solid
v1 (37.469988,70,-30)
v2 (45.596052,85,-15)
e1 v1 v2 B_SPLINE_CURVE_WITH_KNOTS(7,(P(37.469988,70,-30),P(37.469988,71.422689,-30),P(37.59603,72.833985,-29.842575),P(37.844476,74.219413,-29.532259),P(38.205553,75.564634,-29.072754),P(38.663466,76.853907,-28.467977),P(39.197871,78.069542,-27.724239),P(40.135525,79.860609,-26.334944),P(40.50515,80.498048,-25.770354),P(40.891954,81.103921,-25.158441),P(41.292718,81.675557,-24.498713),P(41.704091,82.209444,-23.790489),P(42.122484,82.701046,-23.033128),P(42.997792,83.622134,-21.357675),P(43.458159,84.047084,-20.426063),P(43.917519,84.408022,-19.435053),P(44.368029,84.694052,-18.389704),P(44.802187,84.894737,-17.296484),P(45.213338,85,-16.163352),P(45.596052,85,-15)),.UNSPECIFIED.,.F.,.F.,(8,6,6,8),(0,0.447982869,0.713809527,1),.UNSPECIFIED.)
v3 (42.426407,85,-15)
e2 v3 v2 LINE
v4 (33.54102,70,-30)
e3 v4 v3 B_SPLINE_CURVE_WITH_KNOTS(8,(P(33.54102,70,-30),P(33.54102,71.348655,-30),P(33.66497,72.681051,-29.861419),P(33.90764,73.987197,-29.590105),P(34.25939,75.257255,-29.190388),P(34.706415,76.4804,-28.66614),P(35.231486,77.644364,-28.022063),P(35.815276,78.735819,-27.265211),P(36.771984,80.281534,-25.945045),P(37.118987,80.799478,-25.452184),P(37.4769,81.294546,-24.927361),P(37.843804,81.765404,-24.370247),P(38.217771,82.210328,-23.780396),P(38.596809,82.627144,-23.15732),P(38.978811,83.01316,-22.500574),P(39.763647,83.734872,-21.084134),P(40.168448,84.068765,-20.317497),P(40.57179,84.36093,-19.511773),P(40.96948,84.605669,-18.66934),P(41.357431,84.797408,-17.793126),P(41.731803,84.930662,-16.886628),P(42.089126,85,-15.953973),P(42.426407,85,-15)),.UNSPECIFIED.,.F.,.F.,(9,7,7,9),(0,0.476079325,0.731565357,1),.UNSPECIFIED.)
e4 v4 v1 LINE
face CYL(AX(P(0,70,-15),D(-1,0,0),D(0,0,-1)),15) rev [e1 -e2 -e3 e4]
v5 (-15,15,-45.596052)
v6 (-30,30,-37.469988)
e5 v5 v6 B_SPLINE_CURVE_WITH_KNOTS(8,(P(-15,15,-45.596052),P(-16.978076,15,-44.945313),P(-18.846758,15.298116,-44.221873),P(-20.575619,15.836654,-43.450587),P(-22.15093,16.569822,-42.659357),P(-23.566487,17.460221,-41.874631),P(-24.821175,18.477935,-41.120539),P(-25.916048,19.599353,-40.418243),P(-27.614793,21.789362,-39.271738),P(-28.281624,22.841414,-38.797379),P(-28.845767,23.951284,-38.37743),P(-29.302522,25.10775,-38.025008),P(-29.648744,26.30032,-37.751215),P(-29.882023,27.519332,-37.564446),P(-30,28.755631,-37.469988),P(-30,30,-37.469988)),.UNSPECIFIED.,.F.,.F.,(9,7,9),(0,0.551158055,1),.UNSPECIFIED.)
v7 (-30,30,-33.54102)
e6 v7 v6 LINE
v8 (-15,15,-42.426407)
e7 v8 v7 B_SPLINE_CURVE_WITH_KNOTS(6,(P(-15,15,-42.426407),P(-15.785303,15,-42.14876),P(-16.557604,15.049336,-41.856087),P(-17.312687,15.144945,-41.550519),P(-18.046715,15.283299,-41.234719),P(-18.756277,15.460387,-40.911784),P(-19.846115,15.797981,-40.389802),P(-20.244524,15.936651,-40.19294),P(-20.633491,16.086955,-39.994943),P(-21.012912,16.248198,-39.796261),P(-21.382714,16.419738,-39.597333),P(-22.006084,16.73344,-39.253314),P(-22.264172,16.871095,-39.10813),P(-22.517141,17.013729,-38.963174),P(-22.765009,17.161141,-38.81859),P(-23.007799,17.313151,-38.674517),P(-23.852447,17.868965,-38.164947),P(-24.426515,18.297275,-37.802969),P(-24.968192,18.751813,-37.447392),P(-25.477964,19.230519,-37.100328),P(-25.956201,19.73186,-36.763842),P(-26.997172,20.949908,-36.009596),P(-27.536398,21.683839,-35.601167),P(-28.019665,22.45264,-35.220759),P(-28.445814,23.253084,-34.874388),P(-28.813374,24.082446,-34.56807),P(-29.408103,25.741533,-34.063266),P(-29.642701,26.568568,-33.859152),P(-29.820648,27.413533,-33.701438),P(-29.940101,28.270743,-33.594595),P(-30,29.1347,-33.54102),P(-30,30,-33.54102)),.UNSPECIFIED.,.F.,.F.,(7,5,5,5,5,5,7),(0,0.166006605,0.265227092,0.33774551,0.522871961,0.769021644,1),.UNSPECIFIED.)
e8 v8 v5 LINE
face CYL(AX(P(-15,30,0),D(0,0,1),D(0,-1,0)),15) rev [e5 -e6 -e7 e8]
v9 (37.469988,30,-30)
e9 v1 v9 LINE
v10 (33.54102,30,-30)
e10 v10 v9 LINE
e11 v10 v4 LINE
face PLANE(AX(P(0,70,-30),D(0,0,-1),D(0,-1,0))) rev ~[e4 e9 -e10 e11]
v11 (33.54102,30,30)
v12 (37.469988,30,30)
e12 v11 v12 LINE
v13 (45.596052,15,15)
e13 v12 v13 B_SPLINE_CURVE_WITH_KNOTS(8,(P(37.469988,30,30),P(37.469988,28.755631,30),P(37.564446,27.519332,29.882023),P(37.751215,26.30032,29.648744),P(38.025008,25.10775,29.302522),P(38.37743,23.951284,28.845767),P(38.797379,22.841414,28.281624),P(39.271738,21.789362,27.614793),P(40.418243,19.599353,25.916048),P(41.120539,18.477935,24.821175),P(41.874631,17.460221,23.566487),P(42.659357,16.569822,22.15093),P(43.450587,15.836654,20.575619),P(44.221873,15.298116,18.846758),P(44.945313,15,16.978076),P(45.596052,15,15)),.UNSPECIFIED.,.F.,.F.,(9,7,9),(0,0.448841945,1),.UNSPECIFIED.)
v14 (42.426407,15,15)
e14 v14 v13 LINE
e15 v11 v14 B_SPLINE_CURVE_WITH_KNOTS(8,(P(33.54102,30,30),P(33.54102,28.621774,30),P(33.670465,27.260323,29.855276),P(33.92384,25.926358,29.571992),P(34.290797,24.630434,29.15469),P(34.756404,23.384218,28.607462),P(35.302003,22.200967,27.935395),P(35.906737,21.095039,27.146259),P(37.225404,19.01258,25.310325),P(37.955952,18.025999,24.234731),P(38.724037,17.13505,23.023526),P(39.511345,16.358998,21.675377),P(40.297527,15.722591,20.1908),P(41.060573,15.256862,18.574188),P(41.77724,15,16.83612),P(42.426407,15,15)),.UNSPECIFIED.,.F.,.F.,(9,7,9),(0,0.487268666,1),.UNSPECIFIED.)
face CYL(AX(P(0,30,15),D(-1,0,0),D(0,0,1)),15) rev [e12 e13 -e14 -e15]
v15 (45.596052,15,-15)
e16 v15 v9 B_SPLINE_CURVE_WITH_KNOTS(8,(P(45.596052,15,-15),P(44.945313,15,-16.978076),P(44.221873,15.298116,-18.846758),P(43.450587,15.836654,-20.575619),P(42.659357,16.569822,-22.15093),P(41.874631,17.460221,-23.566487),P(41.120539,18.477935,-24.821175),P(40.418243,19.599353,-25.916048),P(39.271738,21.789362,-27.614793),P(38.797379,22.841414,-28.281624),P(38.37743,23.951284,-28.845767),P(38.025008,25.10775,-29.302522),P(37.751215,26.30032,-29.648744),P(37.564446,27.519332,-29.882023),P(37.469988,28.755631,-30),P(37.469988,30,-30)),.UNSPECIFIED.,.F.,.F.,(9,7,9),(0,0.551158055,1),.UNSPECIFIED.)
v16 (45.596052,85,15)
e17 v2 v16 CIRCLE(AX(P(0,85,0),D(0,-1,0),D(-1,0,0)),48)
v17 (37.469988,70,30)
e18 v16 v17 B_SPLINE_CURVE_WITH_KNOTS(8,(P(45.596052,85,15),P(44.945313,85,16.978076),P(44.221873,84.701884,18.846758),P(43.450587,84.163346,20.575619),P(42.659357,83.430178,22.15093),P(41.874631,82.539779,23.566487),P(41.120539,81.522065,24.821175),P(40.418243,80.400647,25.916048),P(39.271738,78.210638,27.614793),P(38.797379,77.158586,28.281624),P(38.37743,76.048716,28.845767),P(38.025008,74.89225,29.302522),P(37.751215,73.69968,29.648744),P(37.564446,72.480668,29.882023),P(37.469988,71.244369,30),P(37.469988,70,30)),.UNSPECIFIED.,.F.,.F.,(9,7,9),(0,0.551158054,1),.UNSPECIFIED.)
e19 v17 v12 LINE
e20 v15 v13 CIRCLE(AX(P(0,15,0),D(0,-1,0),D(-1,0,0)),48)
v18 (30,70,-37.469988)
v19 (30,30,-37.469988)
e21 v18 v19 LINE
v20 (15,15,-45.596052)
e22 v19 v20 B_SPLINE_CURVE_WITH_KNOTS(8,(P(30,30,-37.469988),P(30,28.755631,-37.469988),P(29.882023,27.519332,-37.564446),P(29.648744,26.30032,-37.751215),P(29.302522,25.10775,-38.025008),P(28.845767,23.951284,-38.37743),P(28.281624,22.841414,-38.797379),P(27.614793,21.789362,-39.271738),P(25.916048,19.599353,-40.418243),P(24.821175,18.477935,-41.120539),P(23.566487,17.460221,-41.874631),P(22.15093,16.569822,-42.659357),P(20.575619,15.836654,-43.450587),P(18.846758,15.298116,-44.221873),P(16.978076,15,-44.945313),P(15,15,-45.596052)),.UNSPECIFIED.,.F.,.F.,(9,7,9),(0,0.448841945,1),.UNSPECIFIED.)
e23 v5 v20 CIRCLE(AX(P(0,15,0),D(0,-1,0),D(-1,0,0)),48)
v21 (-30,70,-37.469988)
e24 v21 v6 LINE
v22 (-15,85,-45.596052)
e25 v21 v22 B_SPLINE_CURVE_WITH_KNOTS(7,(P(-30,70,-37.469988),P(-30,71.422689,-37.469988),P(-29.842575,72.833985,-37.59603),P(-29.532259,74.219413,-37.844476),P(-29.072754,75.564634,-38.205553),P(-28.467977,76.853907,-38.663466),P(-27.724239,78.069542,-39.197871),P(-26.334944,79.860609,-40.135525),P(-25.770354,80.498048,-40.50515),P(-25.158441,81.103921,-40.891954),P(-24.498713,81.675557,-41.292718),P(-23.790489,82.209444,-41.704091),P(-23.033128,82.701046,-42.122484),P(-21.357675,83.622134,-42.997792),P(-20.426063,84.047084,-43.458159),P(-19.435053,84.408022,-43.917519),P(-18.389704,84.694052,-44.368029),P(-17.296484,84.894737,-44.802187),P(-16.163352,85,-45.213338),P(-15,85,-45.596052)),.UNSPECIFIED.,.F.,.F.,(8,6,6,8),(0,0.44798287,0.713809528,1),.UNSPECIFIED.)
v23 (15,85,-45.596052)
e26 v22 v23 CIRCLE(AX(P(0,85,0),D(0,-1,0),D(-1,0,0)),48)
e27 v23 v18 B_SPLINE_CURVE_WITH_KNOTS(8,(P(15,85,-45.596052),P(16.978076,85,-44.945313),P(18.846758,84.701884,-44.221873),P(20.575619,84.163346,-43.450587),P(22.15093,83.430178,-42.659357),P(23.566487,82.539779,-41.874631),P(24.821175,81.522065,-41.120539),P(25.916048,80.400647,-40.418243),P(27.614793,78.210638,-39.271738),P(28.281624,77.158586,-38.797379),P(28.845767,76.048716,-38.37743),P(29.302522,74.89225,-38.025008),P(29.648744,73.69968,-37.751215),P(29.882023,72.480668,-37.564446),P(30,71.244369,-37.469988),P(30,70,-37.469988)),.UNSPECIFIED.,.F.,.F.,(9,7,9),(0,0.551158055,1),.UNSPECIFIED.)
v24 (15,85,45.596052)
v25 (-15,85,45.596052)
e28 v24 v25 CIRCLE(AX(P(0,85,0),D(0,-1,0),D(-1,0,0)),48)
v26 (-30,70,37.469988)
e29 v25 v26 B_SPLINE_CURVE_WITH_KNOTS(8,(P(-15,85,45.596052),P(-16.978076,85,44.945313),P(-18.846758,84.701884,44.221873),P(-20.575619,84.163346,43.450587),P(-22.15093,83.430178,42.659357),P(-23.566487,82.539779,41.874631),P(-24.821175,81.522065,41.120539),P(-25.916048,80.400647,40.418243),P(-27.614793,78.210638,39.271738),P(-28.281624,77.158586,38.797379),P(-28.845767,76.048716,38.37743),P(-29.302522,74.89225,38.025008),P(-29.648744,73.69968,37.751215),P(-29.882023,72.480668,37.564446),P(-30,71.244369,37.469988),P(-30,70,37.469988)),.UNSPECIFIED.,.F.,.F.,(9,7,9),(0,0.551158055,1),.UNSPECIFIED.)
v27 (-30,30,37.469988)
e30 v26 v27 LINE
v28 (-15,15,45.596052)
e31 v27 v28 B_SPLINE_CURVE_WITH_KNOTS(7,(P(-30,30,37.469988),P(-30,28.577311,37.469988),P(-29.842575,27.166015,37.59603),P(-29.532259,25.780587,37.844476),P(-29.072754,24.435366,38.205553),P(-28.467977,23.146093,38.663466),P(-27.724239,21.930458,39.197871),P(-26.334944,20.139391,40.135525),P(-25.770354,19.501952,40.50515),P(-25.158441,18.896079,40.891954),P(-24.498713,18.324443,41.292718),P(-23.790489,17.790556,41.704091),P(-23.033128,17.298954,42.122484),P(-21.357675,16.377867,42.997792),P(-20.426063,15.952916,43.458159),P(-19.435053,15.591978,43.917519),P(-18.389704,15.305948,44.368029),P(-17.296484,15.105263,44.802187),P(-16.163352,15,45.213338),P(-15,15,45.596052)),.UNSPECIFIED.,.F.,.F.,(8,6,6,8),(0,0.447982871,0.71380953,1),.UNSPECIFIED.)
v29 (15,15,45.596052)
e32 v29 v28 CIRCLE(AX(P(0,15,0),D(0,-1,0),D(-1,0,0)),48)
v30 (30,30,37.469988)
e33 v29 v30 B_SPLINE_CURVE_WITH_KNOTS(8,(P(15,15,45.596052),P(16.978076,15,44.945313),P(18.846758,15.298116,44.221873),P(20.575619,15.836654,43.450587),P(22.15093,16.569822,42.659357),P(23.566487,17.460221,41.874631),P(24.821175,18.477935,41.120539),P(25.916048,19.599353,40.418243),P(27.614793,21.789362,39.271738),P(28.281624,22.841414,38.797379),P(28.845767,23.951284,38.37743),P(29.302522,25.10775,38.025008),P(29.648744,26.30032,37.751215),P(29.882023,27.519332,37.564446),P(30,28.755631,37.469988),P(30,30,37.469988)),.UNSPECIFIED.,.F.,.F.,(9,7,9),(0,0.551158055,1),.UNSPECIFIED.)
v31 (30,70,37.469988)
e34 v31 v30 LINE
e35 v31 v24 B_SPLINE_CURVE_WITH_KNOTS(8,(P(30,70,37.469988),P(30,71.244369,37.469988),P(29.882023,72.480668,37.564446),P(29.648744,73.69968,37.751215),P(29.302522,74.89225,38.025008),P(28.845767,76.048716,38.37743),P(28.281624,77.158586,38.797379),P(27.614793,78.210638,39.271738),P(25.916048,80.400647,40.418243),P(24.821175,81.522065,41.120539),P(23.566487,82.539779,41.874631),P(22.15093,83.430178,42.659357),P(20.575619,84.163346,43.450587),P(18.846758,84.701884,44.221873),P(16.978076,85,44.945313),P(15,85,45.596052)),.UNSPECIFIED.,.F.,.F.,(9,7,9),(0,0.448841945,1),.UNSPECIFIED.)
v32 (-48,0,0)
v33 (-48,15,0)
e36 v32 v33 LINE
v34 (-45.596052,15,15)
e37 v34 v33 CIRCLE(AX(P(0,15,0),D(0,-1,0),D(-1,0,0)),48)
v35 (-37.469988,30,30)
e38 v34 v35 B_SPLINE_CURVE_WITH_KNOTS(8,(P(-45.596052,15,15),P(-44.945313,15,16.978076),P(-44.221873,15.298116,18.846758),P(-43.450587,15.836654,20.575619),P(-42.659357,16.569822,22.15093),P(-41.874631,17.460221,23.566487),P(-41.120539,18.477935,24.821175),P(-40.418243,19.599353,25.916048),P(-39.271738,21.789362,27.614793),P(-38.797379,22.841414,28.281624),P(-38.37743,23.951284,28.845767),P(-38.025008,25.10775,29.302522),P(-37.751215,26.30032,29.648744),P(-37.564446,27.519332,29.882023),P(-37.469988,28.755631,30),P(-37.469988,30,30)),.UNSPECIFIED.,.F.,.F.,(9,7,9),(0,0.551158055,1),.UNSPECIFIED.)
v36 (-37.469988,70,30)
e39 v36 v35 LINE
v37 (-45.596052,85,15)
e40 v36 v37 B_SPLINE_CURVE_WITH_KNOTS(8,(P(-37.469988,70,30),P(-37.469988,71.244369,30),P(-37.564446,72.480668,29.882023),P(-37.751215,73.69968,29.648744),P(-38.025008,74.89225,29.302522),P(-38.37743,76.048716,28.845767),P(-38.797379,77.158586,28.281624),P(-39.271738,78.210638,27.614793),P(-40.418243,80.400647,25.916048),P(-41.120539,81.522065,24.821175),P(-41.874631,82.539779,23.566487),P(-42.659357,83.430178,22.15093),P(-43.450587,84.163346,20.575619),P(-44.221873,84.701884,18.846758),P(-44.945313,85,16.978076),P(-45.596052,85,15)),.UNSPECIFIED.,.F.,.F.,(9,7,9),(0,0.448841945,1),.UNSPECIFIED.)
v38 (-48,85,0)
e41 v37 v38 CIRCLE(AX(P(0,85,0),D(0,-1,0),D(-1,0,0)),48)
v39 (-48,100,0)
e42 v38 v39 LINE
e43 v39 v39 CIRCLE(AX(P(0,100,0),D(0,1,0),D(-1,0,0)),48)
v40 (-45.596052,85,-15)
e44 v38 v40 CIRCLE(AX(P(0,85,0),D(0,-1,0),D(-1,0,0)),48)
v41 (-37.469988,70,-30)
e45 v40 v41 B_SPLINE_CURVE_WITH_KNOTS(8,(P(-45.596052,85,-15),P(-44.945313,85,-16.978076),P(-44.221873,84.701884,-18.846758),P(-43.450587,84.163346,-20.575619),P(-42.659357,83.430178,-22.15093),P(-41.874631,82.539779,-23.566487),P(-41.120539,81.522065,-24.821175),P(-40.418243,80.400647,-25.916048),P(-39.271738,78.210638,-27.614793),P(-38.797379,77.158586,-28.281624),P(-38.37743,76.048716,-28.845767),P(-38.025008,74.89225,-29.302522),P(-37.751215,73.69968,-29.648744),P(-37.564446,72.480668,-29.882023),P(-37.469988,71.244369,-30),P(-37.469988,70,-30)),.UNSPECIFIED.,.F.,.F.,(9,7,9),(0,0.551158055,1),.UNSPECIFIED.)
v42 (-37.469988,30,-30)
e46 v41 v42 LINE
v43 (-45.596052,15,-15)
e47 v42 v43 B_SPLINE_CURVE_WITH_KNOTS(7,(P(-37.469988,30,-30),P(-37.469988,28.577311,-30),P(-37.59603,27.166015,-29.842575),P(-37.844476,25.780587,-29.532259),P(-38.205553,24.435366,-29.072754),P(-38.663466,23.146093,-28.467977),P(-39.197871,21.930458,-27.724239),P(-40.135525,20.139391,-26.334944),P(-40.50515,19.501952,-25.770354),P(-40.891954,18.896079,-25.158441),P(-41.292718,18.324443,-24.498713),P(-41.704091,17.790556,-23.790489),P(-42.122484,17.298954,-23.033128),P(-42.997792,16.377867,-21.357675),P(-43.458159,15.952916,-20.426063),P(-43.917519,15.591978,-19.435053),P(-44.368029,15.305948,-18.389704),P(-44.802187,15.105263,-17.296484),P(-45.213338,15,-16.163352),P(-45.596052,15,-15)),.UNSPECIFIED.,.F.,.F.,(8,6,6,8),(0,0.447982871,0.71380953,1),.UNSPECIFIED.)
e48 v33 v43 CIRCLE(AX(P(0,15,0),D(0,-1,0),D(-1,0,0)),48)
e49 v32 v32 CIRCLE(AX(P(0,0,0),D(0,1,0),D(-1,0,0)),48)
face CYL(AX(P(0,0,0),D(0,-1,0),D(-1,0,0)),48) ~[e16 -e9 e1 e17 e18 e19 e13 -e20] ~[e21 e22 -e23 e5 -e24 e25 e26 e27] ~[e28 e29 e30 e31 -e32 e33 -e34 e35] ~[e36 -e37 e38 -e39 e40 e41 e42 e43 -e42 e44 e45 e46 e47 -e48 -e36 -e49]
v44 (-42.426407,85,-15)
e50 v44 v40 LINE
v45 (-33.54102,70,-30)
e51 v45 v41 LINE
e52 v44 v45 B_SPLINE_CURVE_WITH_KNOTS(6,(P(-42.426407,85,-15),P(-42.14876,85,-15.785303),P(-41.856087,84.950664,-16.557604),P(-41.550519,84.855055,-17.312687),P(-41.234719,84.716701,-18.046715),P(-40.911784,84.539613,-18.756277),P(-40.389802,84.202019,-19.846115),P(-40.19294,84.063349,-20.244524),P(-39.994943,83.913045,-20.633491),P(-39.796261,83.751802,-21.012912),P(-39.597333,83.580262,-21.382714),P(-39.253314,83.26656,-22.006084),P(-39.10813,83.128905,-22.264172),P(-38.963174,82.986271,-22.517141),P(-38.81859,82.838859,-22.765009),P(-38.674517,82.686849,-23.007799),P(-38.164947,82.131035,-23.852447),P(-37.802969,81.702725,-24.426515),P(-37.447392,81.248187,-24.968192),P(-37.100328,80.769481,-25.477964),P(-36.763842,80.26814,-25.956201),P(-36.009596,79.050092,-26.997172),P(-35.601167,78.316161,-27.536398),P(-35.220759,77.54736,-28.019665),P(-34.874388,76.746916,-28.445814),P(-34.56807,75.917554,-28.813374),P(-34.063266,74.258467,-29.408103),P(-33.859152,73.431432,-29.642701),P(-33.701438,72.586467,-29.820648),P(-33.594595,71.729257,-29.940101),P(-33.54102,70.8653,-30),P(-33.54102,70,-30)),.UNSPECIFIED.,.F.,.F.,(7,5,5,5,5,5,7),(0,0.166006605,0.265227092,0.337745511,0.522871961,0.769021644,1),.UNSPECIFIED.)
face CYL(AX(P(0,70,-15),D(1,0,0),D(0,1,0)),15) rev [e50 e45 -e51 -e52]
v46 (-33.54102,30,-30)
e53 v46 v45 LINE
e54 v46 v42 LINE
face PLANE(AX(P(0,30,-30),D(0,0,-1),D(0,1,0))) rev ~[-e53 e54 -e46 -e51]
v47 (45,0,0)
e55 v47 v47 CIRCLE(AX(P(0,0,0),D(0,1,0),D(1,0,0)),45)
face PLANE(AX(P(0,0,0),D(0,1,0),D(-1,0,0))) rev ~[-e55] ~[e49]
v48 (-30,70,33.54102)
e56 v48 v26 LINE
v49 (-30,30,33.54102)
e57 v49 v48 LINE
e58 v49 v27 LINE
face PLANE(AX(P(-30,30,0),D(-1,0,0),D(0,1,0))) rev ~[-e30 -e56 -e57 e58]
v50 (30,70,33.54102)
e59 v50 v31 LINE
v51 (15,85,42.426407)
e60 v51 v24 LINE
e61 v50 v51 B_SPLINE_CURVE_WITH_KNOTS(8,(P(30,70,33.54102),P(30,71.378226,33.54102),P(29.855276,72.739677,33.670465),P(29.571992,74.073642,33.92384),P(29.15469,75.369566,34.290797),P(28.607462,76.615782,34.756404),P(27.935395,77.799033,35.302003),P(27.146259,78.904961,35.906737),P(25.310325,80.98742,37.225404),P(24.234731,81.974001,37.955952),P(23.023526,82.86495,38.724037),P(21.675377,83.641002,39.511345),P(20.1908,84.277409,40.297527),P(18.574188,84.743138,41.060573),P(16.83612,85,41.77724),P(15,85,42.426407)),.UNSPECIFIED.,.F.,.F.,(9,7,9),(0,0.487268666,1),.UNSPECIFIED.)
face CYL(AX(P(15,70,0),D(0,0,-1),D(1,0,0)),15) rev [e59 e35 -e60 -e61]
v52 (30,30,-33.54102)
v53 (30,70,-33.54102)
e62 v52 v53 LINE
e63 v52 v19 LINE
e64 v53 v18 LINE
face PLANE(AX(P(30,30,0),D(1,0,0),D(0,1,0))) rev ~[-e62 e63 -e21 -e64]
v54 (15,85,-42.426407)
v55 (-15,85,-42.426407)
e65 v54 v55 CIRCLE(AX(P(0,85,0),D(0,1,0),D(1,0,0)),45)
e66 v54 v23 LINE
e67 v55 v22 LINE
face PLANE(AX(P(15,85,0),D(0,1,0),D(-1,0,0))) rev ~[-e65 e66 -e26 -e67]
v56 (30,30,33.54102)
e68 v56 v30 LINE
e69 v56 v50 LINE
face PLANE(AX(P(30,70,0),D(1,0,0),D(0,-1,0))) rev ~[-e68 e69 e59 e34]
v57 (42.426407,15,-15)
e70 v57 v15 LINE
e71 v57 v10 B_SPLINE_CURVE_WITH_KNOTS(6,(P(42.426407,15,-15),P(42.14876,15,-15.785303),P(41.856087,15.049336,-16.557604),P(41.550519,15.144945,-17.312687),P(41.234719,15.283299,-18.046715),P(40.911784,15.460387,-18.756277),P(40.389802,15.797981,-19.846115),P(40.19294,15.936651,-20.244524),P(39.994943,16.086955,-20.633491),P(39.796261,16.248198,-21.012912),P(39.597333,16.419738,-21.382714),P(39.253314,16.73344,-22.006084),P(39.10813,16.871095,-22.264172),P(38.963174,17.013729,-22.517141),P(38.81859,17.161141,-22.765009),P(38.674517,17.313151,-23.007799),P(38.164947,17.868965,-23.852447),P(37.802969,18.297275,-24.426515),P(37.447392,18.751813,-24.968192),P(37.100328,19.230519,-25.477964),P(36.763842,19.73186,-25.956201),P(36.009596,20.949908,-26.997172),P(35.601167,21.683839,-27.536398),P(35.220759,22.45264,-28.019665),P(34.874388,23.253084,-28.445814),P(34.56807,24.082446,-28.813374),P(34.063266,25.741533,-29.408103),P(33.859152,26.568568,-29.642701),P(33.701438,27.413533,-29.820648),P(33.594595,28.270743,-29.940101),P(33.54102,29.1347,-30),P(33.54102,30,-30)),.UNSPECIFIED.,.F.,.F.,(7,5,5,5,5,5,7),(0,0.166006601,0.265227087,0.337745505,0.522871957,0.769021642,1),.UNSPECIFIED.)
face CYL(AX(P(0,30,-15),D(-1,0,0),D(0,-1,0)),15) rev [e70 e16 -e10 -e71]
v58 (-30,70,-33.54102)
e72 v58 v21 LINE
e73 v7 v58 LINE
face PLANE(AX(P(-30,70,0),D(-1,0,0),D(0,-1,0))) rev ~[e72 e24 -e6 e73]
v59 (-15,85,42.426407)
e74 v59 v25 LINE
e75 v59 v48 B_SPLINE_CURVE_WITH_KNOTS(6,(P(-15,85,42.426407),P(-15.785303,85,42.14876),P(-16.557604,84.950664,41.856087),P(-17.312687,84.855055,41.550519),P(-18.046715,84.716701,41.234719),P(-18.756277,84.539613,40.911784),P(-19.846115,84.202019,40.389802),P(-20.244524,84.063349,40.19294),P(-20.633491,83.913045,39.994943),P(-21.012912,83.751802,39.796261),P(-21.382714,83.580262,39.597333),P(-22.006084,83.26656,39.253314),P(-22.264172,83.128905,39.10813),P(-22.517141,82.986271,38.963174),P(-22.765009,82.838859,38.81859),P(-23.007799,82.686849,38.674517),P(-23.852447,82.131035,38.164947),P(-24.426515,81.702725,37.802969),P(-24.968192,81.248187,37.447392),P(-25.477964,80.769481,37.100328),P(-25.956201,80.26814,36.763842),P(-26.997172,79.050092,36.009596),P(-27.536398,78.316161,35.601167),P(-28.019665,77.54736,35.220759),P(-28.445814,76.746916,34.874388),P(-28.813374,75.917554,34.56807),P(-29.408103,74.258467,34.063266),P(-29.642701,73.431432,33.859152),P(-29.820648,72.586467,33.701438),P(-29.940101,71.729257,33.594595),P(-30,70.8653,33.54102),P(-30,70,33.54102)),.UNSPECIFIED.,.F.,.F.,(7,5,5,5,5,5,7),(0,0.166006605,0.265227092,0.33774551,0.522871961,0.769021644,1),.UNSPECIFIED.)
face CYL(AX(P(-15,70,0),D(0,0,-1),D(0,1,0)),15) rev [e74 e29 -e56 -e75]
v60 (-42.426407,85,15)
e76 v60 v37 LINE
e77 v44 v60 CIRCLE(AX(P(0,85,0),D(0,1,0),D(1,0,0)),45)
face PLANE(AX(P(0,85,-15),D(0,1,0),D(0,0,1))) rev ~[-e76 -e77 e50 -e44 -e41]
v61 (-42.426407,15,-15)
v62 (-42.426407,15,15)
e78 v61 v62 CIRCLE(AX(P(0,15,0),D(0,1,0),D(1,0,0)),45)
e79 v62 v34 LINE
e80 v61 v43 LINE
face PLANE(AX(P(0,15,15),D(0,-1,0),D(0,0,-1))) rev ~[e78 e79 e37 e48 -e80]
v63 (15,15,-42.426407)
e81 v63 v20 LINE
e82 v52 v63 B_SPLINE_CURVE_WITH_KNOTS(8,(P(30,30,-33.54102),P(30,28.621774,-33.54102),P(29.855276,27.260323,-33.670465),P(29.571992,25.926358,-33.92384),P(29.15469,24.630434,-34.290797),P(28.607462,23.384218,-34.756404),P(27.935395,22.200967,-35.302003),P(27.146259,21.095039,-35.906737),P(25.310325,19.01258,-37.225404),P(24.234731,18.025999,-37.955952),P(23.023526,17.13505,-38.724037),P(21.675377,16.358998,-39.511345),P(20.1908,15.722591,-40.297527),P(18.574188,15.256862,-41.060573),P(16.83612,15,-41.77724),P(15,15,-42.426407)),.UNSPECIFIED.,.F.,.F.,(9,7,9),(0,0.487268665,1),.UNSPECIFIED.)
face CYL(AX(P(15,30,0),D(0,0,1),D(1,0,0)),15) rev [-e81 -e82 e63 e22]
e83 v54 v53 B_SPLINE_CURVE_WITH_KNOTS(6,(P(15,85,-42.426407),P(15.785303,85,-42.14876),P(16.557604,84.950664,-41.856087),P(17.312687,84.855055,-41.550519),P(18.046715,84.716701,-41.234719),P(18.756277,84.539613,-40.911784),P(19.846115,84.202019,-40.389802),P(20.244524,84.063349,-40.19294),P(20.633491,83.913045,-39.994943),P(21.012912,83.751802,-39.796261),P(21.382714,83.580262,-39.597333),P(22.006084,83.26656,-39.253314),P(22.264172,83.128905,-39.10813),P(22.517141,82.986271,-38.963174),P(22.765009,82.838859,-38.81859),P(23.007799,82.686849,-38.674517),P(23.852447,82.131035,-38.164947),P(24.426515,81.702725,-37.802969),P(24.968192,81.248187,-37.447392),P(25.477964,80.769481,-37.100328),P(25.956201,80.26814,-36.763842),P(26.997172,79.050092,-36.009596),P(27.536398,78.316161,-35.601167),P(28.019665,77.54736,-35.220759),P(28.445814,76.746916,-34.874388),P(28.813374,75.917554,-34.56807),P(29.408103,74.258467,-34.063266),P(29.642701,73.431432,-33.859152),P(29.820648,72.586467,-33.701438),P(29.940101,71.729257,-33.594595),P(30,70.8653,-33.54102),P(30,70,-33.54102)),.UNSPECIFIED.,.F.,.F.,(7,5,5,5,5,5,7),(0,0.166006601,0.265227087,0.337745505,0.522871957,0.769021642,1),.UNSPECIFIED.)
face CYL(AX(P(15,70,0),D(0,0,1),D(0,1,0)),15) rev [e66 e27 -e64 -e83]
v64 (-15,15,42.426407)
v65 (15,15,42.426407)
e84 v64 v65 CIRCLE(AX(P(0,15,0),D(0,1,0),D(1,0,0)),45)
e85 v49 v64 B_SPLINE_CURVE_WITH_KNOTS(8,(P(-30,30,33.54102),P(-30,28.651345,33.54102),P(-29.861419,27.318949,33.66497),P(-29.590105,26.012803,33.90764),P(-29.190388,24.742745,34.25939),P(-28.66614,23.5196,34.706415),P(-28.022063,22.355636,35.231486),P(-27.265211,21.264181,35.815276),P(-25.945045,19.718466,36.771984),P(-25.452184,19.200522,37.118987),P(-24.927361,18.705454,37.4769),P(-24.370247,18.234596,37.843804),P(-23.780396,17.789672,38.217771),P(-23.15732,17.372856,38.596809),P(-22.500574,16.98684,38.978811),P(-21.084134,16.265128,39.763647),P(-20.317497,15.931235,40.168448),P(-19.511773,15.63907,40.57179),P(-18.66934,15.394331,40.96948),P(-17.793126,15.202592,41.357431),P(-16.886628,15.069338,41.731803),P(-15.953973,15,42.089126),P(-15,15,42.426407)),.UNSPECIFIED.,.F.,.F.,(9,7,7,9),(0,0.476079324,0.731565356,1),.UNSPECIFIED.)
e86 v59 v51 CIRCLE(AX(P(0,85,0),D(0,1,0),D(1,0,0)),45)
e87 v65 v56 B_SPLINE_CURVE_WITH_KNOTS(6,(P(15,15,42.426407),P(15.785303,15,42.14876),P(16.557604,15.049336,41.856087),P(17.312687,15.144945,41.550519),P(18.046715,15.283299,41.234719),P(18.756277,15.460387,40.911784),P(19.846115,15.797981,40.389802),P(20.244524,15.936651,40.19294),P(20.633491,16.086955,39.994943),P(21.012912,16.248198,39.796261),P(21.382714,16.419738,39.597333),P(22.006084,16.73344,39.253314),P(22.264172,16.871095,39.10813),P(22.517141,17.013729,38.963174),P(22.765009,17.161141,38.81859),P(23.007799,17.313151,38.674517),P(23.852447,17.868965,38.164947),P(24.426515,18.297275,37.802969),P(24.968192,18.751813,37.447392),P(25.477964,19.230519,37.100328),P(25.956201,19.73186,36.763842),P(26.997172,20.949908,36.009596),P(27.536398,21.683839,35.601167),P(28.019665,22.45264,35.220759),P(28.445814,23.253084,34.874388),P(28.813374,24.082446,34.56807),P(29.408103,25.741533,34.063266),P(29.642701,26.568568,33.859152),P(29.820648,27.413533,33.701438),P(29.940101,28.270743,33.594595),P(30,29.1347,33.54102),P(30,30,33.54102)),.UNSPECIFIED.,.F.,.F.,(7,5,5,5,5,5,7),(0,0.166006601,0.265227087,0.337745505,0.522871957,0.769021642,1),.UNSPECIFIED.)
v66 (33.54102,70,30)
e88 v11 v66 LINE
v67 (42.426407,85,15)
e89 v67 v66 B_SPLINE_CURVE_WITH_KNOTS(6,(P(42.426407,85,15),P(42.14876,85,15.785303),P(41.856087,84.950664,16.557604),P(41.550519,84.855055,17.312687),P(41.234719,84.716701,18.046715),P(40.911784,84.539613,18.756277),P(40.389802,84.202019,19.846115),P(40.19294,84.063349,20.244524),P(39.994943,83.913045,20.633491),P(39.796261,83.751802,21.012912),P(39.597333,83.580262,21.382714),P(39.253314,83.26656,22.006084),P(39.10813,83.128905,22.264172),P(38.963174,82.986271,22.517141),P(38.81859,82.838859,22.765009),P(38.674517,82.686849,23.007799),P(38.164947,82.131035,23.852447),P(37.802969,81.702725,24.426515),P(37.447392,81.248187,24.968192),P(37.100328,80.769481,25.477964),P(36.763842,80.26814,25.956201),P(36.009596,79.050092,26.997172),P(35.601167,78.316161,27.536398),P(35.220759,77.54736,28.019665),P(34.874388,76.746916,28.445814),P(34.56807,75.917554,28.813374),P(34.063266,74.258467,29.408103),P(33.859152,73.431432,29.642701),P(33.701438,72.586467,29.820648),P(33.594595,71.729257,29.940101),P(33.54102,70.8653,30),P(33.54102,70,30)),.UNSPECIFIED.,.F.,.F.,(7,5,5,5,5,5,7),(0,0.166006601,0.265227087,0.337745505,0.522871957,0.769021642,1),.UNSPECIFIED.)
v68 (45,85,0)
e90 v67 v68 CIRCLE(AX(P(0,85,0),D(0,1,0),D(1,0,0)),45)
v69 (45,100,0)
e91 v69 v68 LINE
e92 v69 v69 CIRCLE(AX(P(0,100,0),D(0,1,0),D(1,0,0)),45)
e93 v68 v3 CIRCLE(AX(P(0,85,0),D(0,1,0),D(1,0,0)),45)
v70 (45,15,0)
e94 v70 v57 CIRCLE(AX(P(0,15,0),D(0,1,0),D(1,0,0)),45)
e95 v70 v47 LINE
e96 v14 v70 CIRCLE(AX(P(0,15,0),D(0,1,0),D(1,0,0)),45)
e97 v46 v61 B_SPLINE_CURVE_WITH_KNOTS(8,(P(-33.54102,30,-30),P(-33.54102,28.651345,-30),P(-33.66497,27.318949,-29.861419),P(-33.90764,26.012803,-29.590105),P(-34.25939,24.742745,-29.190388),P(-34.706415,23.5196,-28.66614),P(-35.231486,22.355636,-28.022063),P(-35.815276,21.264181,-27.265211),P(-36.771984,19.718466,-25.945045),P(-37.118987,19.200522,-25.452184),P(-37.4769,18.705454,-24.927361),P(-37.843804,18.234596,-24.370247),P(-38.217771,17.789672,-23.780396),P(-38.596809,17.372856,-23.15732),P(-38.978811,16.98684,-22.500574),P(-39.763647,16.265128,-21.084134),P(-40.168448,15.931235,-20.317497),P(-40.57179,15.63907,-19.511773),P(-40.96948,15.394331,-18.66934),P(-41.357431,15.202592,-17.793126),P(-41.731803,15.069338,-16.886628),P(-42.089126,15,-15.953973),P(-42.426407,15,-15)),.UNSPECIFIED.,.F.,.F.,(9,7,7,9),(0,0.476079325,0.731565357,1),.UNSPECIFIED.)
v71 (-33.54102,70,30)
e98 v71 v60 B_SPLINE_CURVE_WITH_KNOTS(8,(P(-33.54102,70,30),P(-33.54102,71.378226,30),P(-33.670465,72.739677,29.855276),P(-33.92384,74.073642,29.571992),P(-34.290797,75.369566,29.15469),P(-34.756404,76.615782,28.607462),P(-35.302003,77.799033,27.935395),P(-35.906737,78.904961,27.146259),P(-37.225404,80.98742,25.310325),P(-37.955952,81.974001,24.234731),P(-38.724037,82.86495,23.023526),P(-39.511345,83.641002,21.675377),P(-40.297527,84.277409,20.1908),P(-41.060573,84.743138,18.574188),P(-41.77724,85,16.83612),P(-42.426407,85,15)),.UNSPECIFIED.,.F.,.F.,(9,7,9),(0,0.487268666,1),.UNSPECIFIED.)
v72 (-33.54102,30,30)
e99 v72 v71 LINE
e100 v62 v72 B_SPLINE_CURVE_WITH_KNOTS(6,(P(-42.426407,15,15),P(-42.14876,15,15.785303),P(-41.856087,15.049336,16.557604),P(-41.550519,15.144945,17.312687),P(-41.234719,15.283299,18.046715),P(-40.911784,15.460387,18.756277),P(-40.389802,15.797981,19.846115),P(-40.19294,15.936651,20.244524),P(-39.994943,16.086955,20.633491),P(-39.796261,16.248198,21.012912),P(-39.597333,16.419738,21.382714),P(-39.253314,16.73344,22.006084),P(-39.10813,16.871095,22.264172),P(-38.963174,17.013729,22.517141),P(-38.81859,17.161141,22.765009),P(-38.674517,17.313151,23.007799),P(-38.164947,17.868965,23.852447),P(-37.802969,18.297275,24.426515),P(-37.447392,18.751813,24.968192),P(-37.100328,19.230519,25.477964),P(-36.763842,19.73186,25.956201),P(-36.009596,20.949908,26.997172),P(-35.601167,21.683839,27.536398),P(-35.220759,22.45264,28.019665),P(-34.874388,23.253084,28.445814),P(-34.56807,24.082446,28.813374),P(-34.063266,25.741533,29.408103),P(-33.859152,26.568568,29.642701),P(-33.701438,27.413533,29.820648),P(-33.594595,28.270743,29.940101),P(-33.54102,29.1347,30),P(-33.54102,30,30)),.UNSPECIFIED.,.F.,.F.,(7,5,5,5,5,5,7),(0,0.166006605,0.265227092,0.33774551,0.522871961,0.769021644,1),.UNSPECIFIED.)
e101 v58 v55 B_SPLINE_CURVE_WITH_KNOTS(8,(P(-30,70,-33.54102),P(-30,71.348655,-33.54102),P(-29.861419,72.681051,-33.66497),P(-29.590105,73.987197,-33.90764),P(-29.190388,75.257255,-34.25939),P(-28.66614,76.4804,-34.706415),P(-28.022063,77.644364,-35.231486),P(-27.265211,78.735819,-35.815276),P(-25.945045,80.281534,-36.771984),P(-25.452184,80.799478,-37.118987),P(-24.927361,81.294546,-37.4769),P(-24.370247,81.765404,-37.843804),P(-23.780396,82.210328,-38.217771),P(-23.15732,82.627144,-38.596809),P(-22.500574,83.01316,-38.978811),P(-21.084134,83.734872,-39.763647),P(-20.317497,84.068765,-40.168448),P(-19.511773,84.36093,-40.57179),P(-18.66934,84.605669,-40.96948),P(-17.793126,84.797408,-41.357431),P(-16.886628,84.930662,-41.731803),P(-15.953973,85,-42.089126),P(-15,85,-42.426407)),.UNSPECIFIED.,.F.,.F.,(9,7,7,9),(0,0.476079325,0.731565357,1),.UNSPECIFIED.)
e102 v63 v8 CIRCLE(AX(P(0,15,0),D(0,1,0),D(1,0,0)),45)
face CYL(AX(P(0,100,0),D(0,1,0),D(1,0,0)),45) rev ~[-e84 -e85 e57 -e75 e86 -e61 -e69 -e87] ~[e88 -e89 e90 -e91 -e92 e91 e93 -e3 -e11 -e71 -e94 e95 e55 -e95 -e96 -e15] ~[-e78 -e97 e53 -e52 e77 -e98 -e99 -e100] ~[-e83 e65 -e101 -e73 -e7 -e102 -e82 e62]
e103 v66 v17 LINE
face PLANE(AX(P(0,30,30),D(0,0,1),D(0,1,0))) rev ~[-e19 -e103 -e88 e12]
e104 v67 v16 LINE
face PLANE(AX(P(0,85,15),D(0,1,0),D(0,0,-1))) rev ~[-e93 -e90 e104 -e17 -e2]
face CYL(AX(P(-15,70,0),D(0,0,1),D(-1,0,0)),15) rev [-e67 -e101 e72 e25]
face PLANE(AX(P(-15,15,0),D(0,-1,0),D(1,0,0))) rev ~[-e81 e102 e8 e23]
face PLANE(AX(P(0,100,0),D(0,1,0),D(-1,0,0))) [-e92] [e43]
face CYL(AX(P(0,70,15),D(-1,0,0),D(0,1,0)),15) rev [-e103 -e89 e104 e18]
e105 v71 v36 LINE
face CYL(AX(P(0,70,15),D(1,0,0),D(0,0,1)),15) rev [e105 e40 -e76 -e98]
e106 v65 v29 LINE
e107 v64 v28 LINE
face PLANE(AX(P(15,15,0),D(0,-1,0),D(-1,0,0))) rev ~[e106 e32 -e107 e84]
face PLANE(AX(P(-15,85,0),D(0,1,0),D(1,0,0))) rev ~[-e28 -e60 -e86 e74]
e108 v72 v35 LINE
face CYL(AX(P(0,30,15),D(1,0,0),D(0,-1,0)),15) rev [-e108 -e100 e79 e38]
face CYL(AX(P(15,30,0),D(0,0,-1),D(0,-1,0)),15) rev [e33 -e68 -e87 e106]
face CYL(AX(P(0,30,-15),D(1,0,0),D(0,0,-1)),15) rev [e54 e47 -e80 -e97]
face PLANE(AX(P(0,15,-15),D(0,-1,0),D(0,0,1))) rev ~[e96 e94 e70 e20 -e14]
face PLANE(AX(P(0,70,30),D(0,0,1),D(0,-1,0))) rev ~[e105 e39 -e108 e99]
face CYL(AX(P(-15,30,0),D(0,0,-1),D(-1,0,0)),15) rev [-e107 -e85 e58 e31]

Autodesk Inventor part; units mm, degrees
ref_plane "YZ Plane" through (0, 0, 0) normal (1, 0, 0) x (0, 1, 0)
ref_plane "XZ Plane" through (0, 0, 0) normal (0, 1, 0) x (-1, 0, 0)
ref_plane "XY Plane" through (0, 0, 0) normal (0, 0, 1) x (1, 0, 0)
sketch "Sketch1" plane through (0, 0, 0) normal (0, 1, 0) x (-1, 0, 0)
  circle A0 centre (0, 0) radius 48
  dimension "d0" = 96
extrude "Extrusion1" add sketch "Sketch1" along normal blind 100
sketch "Sketch2" plane through (0, 100, 0) normal (0, 1, 0) x (1, 0, 0)
  circle A0 centre (0, 0) radius 45
  dimension "d3" = 90
extrude "Extrusion2" cut sketch "Sketch2" against normal blind 100
sketch "Sketch3" plane through (0, 0, 0) normal (0, 0, 1) x (1, 0, 0)
  line L0 (-15, 85) -> (15, 85)
  line L1 (30, 70) -> (30, 30)
  line L2 (15, 15) -> (-15, 15)
  line L3 (-30, 30) -> (-30, 70)
  line L4 (-30, 85) -> (30, 15) construction
  line L5 (30, 85) -> (-30, 15) construction
  arc A0 (30, 70) -> (15, 85) centre (15, 70) ccw
  arc A1 (-15, 85) -> (-30, 70) centre (-15, 70) ccw
  arc A2 (-30, 30) -> (-15, 15) centre (-15, 30) ccw
  arc A3 (15, 15) -> (30, 30) centre (15, 30) ccw
  point P0 (0, 0)
  point P1 (0, 50)
  dimension "d6" = 60
  dimension "d7" = 70
  dimension "d8" = 15
extrude "Extrusion3" cut sketch "Sketch3" along normal blind 100
pattern_circular "Circular Pattern1" count 4 over 360 about axis through (0, 100, 0) along (0, -1, 0) of "Extrusion3"
properties part number "Khay đựng cốc"
